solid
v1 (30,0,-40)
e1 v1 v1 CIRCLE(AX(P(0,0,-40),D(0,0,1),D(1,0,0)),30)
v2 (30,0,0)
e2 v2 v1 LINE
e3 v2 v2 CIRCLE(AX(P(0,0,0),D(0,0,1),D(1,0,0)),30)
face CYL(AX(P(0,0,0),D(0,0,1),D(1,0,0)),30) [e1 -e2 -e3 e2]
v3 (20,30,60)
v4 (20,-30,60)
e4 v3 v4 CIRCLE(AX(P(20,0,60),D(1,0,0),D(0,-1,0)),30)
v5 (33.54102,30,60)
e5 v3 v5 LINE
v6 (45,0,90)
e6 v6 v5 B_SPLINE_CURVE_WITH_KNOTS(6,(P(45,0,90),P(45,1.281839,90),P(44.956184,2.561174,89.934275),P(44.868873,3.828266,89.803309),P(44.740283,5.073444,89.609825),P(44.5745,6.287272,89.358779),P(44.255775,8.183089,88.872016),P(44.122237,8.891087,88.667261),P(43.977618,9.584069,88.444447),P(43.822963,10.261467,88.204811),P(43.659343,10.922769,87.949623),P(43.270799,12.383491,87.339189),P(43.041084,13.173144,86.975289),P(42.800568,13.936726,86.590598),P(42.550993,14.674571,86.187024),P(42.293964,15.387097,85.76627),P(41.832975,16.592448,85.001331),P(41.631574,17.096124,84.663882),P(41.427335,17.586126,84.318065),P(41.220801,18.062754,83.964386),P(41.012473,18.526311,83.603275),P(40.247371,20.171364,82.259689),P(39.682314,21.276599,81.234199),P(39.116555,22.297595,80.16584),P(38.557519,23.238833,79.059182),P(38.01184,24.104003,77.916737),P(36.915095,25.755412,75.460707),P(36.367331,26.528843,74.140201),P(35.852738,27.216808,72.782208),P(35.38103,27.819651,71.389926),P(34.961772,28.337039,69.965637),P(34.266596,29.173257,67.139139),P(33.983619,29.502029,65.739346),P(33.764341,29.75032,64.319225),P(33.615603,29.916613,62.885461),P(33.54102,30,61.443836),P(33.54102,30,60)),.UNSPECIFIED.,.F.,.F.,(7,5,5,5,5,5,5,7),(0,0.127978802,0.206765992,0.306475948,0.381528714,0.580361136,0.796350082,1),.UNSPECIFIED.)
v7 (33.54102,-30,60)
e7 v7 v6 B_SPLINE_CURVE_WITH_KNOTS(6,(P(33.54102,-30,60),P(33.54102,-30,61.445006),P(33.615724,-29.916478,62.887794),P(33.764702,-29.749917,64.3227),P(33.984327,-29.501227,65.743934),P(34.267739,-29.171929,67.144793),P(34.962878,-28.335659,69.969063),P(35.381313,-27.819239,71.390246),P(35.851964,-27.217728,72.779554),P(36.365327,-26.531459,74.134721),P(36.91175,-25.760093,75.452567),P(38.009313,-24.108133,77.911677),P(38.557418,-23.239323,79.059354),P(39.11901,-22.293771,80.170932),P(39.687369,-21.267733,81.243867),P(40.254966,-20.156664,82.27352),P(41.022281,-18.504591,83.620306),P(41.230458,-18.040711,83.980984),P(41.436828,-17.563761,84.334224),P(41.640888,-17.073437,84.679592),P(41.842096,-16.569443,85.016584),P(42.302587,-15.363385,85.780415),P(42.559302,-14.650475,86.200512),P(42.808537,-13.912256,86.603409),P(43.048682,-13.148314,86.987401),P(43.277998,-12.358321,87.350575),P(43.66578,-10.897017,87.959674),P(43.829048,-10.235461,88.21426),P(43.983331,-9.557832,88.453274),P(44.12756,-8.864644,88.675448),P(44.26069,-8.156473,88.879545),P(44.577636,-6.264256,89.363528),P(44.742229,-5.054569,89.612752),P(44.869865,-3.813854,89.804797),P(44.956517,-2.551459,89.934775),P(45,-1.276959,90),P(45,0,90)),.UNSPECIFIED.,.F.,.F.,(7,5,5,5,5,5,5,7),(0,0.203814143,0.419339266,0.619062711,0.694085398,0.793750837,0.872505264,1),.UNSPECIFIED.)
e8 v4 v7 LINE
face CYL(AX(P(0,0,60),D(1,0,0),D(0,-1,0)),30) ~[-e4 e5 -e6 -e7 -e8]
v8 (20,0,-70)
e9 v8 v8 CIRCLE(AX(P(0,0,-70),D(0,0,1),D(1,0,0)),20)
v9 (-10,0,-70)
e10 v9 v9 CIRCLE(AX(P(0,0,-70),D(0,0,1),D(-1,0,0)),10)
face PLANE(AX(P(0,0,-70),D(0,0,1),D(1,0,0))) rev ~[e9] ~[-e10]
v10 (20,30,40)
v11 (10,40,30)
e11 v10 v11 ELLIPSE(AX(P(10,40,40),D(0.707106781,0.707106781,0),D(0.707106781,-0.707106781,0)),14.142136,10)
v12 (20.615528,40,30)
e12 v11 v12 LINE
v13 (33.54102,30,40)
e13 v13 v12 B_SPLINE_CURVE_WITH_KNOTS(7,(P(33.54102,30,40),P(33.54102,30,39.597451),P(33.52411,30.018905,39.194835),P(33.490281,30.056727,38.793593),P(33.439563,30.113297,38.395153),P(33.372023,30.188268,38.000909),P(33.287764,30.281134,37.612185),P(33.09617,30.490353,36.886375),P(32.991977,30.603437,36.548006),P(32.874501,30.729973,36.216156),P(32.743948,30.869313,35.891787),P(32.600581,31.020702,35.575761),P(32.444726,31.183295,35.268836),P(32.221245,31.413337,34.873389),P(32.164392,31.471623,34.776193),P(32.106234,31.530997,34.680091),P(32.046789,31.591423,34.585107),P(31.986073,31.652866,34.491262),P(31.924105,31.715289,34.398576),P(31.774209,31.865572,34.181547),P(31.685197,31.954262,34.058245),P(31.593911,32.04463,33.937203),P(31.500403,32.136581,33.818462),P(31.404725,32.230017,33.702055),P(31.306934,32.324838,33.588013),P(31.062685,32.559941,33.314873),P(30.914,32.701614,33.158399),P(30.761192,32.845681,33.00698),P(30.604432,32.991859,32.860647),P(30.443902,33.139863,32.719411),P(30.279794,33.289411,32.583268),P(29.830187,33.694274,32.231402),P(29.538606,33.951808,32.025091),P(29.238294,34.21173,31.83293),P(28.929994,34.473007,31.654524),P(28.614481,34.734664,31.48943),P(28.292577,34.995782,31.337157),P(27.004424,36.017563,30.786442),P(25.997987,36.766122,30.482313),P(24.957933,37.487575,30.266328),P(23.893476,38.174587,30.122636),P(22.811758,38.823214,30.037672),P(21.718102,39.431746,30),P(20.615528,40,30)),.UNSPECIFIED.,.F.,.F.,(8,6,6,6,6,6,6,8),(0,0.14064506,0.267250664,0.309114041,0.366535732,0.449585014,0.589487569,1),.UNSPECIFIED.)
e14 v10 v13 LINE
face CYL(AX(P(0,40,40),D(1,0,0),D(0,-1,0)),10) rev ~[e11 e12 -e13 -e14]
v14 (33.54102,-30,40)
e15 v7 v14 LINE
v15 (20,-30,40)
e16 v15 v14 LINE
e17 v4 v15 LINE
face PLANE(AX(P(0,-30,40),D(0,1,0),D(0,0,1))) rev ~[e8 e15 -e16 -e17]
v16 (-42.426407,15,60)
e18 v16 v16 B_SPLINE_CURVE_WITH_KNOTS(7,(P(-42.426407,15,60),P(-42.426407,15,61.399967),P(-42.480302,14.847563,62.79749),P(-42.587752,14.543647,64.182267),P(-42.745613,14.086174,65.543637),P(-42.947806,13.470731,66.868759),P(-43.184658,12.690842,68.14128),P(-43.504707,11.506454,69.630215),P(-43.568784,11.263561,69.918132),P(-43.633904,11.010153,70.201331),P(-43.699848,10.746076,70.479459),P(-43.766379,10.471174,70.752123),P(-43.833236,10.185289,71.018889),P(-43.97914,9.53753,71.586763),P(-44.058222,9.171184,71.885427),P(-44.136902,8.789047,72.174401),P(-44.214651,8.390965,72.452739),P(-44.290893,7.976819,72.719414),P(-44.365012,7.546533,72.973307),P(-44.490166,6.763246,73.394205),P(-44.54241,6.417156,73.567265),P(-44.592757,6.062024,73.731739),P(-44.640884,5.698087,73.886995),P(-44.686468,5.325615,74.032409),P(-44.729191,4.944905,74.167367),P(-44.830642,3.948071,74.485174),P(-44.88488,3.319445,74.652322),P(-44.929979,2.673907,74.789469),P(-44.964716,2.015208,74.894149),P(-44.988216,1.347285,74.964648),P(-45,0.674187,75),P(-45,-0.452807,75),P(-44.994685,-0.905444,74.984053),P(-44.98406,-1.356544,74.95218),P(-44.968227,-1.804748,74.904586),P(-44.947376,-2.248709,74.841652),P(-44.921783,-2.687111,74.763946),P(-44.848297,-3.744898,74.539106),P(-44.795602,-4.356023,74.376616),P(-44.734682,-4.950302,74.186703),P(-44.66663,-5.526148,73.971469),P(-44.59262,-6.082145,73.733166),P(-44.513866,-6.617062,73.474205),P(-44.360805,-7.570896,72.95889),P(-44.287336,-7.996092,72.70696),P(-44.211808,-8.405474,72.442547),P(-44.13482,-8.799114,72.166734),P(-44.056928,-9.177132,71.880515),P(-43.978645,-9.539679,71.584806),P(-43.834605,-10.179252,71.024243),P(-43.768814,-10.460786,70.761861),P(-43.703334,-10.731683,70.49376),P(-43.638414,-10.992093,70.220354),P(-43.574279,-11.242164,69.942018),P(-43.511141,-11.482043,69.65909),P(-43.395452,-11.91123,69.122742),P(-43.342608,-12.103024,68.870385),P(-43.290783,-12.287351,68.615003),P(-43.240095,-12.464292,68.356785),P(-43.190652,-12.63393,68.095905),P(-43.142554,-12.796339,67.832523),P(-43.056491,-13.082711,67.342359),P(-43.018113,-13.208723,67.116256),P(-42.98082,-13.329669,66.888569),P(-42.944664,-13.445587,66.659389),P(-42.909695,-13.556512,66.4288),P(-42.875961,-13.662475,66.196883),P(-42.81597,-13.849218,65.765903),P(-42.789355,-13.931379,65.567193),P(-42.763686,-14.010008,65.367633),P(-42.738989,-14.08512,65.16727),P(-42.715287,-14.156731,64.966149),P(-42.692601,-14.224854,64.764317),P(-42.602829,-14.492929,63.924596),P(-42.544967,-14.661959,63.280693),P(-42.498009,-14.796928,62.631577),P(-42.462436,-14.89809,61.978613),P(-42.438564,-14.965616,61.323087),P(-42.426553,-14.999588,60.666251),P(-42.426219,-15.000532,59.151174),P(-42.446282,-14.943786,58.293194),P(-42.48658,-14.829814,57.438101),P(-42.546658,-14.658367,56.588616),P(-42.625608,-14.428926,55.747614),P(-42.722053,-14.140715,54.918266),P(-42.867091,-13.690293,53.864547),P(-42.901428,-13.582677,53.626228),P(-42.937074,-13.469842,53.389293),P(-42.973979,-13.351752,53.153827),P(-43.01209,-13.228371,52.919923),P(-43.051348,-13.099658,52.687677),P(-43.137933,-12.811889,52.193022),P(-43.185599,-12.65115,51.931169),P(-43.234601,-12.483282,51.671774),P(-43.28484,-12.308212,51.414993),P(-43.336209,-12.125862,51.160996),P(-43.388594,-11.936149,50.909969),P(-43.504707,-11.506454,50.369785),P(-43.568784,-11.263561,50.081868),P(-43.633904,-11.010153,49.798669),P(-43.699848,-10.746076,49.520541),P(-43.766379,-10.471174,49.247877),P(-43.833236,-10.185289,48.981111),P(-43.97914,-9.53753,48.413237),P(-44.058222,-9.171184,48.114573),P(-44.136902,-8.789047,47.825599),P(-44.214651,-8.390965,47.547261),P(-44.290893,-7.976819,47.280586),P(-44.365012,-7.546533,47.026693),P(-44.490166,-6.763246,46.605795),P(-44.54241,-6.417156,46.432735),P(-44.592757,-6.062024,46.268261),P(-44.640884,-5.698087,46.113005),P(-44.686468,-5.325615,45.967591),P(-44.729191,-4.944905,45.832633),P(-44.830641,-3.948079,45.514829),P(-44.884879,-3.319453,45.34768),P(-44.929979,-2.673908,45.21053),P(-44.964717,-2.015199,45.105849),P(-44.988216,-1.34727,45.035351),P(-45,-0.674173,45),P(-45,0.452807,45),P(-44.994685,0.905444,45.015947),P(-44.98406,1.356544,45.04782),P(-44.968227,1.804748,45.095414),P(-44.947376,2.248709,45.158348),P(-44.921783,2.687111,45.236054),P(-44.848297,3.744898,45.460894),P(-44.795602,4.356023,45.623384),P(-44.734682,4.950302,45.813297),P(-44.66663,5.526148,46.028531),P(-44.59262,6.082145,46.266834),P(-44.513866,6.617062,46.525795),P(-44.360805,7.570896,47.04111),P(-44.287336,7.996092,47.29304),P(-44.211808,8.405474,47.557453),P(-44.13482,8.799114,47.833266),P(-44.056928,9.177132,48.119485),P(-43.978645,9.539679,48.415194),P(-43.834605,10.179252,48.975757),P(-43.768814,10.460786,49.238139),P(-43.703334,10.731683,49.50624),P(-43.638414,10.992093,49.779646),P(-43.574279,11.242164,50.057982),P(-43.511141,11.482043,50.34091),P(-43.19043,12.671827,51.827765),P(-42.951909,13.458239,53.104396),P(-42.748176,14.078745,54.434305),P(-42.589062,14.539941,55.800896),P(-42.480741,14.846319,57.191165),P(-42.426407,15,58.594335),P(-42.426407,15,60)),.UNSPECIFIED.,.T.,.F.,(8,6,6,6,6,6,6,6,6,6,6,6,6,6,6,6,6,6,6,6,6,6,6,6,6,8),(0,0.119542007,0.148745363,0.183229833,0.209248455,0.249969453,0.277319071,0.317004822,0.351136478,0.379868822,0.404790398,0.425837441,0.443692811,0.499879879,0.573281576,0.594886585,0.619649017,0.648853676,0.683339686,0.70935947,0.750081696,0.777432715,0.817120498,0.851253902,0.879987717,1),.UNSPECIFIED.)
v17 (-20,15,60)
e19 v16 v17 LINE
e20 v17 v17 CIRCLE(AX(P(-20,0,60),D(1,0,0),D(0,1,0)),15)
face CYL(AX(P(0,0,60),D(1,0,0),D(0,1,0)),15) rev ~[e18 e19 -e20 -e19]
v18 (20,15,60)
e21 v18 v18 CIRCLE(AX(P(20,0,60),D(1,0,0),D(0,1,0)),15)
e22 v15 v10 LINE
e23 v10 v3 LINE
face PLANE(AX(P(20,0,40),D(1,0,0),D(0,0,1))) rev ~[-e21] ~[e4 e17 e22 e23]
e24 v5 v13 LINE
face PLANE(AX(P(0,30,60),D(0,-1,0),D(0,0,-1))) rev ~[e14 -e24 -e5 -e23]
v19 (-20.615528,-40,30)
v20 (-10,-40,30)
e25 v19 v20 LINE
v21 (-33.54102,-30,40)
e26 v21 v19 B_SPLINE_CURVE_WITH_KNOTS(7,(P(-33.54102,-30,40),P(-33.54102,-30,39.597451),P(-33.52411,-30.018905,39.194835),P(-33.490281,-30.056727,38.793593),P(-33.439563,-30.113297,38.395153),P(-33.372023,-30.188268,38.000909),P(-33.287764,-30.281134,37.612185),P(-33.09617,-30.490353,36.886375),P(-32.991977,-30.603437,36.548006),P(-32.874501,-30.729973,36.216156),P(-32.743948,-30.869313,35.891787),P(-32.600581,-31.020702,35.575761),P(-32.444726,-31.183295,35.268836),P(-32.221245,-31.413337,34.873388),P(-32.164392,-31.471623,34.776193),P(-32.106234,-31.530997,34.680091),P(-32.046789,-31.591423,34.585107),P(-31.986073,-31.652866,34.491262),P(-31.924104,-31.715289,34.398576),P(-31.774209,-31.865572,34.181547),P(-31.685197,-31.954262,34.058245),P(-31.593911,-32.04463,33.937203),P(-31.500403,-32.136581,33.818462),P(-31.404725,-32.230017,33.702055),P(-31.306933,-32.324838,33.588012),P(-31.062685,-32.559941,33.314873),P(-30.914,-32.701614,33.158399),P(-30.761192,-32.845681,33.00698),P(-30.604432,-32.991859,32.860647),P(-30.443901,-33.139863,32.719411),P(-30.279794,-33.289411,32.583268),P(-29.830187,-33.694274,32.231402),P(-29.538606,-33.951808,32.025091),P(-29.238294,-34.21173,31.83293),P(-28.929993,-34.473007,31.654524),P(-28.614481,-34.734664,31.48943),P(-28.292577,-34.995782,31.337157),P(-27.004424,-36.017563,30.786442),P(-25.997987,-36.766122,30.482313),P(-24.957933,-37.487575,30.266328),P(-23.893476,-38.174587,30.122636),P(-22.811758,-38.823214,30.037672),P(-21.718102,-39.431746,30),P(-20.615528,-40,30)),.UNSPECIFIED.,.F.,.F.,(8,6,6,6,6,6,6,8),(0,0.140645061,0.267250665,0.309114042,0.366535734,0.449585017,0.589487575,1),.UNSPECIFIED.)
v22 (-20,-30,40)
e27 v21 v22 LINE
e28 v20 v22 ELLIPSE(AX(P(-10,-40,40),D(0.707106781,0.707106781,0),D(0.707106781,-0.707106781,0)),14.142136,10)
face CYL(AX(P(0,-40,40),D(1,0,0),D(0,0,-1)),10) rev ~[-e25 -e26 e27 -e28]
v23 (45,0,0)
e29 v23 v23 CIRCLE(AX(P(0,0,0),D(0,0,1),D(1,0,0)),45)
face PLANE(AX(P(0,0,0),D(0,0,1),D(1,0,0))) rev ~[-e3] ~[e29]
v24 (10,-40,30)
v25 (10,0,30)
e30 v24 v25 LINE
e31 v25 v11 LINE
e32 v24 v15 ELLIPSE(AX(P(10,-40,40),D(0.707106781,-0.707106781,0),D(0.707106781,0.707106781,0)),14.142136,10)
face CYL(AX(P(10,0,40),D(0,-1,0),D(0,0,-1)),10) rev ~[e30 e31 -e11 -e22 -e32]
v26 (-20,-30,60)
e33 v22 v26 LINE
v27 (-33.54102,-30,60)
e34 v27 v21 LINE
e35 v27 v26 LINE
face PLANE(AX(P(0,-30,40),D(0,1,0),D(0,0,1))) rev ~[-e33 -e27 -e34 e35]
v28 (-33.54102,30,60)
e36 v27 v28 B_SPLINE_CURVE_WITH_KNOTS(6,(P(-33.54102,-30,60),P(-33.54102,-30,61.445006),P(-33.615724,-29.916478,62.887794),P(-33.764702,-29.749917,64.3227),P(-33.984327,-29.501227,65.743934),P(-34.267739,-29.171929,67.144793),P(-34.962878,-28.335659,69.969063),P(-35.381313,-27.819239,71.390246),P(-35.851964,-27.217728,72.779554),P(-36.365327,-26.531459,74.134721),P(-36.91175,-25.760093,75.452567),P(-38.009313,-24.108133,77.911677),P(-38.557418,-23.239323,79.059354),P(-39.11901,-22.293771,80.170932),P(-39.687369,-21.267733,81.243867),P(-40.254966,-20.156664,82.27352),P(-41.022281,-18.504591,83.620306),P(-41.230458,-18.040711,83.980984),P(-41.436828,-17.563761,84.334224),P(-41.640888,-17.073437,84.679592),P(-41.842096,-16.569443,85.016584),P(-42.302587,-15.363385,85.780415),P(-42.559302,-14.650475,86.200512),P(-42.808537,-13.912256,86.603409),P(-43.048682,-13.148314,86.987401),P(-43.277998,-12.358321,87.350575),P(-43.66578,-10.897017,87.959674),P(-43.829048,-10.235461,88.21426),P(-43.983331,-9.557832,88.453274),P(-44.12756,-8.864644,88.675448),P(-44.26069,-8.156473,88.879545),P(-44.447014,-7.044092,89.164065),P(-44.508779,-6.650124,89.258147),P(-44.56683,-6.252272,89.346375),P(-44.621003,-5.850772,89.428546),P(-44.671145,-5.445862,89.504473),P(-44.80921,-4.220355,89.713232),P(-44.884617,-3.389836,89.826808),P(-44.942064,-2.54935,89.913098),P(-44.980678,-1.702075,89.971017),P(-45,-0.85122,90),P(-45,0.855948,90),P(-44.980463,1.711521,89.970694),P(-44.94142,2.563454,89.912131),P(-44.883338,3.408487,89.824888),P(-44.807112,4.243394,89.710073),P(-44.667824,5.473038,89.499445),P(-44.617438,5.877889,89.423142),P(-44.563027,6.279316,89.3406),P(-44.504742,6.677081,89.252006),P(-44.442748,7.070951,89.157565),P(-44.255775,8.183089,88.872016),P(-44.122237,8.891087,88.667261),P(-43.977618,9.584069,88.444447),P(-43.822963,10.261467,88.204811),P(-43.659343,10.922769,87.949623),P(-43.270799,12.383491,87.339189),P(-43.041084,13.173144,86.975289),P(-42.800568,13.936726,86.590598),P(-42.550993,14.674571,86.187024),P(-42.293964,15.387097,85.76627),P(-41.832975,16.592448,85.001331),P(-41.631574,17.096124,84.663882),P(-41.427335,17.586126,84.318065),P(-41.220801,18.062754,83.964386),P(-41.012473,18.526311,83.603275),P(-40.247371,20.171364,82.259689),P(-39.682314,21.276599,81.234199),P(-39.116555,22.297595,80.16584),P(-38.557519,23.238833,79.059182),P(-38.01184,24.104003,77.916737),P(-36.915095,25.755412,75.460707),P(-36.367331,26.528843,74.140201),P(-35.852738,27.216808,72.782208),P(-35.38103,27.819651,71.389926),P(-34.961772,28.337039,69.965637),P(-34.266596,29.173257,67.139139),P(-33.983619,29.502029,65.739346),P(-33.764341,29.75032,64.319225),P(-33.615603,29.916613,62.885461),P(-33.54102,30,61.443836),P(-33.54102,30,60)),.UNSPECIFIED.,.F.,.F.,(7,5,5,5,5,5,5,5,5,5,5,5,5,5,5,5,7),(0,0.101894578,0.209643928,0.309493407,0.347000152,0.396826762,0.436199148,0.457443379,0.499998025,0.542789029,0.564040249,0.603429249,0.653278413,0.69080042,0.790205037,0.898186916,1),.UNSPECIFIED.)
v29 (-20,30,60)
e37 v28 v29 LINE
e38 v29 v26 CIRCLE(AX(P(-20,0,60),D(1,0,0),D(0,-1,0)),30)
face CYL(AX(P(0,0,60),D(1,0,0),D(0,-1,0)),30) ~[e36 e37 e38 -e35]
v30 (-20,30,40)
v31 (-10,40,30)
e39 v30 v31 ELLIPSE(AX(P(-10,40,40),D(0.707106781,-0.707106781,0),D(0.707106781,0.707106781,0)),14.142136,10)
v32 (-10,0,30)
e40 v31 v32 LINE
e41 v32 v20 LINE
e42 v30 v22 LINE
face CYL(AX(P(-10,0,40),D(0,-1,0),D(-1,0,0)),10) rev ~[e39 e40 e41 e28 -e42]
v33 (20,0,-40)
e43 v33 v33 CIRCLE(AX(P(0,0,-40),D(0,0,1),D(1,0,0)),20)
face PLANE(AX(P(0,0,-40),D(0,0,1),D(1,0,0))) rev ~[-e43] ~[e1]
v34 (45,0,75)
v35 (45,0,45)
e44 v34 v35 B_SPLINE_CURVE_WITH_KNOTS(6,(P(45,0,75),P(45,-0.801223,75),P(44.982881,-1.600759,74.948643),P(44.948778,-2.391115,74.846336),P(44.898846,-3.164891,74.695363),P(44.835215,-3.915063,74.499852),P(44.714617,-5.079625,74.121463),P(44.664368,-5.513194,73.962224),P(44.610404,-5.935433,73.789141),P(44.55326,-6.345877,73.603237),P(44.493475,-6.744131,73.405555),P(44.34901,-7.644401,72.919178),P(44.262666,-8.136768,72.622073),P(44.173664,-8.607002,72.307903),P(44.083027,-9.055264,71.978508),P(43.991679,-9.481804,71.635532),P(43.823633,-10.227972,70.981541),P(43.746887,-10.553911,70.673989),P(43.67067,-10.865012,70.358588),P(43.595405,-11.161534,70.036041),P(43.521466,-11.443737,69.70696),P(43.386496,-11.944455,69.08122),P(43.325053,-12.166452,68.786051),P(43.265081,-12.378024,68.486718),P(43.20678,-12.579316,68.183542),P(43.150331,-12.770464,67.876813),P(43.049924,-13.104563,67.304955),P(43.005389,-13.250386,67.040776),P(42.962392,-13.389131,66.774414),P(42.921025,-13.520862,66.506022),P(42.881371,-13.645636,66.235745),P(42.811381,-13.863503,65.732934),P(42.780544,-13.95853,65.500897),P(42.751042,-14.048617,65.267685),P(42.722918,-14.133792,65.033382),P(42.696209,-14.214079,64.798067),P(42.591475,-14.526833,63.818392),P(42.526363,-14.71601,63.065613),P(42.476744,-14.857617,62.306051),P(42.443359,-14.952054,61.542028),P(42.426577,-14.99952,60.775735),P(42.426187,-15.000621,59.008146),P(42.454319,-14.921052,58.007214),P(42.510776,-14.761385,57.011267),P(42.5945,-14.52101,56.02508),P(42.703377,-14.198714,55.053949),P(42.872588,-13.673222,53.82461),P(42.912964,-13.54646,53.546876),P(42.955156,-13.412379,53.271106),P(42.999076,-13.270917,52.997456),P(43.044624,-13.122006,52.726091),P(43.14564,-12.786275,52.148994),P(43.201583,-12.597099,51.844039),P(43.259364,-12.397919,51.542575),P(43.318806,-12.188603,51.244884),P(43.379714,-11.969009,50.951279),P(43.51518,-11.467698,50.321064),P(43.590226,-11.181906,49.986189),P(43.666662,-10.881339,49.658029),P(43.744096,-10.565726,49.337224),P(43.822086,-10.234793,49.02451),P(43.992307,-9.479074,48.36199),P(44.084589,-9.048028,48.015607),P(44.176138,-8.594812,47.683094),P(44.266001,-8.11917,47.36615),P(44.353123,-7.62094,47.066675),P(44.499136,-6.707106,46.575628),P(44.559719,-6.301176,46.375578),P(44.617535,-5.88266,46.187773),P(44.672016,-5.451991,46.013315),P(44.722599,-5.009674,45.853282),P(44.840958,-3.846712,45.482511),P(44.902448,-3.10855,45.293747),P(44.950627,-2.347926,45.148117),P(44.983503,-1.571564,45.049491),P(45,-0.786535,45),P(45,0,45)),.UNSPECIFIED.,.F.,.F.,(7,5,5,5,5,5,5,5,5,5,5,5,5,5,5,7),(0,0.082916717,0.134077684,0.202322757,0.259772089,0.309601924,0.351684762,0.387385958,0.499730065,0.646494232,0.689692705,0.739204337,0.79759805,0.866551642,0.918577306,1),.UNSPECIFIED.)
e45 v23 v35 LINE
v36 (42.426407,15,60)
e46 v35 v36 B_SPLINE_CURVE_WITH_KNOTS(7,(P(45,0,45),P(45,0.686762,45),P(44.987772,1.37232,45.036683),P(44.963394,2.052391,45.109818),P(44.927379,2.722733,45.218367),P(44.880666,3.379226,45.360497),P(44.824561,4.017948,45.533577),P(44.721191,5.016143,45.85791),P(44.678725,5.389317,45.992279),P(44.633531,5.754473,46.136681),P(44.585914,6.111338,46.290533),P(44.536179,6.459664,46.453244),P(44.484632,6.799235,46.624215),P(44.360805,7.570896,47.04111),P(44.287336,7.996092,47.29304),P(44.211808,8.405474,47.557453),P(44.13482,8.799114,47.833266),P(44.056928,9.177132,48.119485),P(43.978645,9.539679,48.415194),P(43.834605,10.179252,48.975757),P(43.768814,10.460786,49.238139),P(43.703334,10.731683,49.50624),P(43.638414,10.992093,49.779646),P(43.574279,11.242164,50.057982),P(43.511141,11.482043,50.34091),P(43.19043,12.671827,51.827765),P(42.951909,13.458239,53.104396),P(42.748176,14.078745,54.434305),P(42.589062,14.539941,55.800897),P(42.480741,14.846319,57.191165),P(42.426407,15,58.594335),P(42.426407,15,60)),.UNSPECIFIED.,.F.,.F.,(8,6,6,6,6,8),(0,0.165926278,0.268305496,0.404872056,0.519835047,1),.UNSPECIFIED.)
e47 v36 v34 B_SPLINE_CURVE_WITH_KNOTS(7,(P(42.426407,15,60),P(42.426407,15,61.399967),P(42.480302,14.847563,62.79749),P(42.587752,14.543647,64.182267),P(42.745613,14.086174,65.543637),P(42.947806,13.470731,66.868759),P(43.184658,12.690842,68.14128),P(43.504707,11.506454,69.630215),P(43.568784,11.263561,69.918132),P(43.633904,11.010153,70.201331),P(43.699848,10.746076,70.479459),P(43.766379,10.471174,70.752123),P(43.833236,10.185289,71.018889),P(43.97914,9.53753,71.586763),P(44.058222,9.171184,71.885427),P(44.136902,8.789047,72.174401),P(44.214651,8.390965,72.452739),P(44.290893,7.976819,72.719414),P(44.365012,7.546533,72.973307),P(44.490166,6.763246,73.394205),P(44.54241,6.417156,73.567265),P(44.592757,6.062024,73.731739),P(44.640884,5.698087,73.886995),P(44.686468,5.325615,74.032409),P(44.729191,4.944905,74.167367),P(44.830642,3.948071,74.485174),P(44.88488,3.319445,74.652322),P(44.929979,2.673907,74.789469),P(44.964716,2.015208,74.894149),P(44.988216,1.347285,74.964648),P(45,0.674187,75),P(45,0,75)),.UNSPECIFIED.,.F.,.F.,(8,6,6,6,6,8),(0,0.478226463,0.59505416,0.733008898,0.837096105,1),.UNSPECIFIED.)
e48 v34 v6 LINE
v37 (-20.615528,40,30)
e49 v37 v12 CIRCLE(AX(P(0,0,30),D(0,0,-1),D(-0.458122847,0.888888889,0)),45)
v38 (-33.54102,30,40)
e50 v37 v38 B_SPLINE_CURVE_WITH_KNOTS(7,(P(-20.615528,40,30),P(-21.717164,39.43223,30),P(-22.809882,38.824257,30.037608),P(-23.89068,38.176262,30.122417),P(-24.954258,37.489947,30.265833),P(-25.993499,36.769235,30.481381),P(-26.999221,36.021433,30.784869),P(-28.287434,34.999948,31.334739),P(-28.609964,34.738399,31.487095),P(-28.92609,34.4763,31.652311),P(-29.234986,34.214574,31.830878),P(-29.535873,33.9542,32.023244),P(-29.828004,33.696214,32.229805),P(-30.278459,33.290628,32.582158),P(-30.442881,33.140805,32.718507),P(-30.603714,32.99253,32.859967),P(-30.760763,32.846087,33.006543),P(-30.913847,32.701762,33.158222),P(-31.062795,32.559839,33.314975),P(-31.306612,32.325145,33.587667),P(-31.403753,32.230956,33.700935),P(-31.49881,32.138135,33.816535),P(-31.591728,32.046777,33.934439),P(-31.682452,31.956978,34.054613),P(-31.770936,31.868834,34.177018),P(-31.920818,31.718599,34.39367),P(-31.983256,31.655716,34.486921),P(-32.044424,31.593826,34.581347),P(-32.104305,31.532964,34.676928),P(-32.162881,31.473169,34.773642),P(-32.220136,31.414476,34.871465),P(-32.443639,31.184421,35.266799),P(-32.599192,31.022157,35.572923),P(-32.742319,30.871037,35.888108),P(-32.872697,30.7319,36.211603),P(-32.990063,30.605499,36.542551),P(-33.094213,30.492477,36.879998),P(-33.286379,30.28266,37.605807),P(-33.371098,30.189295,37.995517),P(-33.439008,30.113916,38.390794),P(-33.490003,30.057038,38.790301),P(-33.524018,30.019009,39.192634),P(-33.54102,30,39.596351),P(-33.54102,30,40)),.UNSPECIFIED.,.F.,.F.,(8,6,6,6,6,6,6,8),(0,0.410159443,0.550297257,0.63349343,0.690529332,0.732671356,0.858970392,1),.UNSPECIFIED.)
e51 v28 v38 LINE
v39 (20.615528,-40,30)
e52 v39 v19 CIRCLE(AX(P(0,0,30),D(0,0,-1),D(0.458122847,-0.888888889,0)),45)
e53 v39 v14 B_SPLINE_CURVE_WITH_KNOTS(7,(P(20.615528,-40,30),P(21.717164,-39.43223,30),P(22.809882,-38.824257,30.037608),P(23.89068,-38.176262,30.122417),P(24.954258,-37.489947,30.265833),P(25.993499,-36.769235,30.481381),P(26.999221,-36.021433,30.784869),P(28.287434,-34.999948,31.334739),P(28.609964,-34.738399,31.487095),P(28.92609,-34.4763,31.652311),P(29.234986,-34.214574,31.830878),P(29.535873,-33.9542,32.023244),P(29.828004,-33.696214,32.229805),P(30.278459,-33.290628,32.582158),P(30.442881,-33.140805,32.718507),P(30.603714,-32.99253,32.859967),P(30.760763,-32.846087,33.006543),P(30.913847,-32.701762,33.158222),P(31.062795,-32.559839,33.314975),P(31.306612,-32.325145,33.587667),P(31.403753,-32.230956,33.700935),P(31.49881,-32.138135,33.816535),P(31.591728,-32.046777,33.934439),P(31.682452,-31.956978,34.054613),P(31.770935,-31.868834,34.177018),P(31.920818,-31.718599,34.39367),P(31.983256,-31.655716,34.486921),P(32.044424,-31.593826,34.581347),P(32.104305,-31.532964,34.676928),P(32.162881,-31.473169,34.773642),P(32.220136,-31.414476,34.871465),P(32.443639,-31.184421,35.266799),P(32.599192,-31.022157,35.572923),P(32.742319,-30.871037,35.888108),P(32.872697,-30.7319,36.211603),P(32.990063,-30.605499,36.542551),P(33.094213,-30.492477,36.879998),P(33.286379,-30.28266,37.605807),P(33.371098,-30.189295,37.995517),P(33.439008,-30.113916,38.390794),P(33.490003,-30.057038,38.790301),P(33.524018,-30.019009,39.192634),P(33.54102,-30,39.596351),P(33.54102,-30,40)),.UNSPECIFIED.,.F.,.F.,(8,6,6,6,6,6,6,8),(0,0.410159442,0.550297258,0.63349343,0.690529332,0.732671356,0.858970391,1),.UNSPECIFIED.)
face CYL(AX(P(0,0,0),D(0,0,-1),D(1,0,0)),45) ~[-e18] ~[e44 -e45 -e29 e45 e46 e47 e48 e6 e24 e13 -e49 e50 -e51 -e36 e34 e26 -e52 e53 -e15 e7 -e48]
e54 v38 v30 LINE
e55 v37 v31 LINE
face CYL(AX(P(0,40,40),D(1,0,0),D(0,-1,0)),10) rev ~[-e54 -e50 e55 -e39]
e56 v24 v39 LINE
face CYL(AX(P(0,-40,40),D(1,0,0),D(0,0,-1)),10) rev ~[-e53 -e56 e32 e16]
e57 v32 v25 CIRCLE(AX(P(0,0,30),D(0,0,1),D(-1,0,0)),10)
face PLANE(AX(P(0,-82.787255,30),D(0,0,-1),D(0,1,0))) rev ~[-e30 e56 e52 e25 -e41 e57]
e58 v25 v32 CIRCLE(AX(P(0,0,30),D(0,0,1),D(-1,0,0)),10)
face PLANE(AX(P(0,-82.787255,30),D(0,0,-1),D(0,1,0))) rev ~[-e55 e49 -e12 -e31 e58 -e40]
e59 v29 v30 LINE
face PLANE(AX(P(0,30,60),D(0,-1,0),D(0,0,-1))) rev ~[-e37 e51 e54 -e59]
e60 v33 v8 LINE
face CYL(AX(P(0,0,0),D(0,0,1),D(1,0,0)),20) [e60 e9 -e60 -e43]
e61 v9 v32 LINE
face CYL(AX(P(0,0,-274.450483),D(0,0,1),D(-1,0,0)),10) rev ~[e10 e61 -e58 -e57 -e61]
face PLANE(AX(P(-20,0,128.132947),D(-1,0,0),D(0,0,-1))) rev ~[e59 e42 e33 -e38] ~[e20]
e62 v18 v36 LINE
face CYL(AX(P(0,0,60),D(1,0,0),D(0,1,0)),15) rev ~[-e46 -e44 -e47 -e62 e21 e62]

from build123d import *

# Parameters (mm, degrees)
F0_R     = 45
F0_R_2   = 30
F0_R_3   = 20
F1_DEPTH = 90
F2_DEPTH = 70
F3_DEPTH = 40
F5_DEPTH = 50
F4_R     = 15
F6_DEPTH = 50
F8_DEPTH = 50
F10_D    = 20


with BuildPart() as f1:
    # F0 (on Top) → F1 (new body)
    with BuildSketch(Plane.XY):
        Circle(F0_R)
        Circle(F0_R_2, mode=Mode.SUBTRACT)
        Circle(F0_R_2)
        Circle(F0_R_3, mode=Mode.SUBTRACT)
        Circle(F0_R_3)
    extrude(amount=F1_DEPTH)

    # F0 (on Top) → F2 (join)
    with BuildSketch(Plane.XY):
        Circle(F0_R_3)
    extrude(amount=-F2_DEPTH)

    # F0 (on Top) → F3 (join)
    with BuildSketch(Plane.XY):
        Circle(F0_R_2)
        Circle(F0_R_3, mode=Mode.SUBTRACT)
    extrude(amount=-F3_DEPTH)

    # F4 (on Right) → F5 (cut, symmetric)
    with BuildSketch(Plane.YZ):
        with BuildLine():
            Line((-82.7872549732, 115.9372627735), (-82.7872549732, 30))
            Line((-82.7872549732, 30), (-40, 30))
            ThreePointArc((-40, 30), (-32.9289321881, 32.9289321881), (-30, 40))
            Line((-30, 40), (-30, 60))
            ThreePointArc((-30, 60), (0, 90), (30, 60))
            Line((30, 60), (30, 40))
            ThreePointArc((30, 40), (32.9289321881, 32.9289321881), (40, 30))
            Line((40, 30), (82.7872549732, 30))
            Line((82.7872549732, 30), (82.7872549732, 115.9372627735))
            Line((82.7872549732, 115.9372627735), (-82.7872549732, 115.9372627735))
        make_face()
    extrude(amount=F5_DEPTH, both=True, mode=Mode.SUBTRACT)

    # F4 (on Right) → F6 (cut, symmetric)
    with BuildSketch(Plane.YZ):
        with Locations((0, 60)):
            Circle(F4_R)
    extrude(amount=F6_DEPTH, both=True, mode=Mode.SUBTRACT)

    # F7 (on Front) → F8 (cut, symmetric)
    with BuildSketch(Plane.XZ):
        with BuildLine():
            Line((20, 128.1329473248), (-20, 128.1329473248))
            Line((-20, 128.1329473248), (-20, 40))
            ThreePointArc((-20, 40), (-17.0710678119, 32.9289321881), (-10, 30))
            Line((-10, 30), (10, 30))
            ThreePointArc((10, 30), (17.0710678119, 32.9289321881), (20, 40))
            Line((20, 40), (20, 128.1329473248))
        make_face()
    extrude(amount=F8_DEPTH, both=True, mode=Mode.SUBTRACT)

    # F10 (through all)
    with Locations(Plane(origin=(0, 0, -70), x_dir=(1, 0, 0), z_dir=(0, 0, -1))):
        with Locations((0, 0)):
            Hole(F10_D / 2)


solid = f1.part
